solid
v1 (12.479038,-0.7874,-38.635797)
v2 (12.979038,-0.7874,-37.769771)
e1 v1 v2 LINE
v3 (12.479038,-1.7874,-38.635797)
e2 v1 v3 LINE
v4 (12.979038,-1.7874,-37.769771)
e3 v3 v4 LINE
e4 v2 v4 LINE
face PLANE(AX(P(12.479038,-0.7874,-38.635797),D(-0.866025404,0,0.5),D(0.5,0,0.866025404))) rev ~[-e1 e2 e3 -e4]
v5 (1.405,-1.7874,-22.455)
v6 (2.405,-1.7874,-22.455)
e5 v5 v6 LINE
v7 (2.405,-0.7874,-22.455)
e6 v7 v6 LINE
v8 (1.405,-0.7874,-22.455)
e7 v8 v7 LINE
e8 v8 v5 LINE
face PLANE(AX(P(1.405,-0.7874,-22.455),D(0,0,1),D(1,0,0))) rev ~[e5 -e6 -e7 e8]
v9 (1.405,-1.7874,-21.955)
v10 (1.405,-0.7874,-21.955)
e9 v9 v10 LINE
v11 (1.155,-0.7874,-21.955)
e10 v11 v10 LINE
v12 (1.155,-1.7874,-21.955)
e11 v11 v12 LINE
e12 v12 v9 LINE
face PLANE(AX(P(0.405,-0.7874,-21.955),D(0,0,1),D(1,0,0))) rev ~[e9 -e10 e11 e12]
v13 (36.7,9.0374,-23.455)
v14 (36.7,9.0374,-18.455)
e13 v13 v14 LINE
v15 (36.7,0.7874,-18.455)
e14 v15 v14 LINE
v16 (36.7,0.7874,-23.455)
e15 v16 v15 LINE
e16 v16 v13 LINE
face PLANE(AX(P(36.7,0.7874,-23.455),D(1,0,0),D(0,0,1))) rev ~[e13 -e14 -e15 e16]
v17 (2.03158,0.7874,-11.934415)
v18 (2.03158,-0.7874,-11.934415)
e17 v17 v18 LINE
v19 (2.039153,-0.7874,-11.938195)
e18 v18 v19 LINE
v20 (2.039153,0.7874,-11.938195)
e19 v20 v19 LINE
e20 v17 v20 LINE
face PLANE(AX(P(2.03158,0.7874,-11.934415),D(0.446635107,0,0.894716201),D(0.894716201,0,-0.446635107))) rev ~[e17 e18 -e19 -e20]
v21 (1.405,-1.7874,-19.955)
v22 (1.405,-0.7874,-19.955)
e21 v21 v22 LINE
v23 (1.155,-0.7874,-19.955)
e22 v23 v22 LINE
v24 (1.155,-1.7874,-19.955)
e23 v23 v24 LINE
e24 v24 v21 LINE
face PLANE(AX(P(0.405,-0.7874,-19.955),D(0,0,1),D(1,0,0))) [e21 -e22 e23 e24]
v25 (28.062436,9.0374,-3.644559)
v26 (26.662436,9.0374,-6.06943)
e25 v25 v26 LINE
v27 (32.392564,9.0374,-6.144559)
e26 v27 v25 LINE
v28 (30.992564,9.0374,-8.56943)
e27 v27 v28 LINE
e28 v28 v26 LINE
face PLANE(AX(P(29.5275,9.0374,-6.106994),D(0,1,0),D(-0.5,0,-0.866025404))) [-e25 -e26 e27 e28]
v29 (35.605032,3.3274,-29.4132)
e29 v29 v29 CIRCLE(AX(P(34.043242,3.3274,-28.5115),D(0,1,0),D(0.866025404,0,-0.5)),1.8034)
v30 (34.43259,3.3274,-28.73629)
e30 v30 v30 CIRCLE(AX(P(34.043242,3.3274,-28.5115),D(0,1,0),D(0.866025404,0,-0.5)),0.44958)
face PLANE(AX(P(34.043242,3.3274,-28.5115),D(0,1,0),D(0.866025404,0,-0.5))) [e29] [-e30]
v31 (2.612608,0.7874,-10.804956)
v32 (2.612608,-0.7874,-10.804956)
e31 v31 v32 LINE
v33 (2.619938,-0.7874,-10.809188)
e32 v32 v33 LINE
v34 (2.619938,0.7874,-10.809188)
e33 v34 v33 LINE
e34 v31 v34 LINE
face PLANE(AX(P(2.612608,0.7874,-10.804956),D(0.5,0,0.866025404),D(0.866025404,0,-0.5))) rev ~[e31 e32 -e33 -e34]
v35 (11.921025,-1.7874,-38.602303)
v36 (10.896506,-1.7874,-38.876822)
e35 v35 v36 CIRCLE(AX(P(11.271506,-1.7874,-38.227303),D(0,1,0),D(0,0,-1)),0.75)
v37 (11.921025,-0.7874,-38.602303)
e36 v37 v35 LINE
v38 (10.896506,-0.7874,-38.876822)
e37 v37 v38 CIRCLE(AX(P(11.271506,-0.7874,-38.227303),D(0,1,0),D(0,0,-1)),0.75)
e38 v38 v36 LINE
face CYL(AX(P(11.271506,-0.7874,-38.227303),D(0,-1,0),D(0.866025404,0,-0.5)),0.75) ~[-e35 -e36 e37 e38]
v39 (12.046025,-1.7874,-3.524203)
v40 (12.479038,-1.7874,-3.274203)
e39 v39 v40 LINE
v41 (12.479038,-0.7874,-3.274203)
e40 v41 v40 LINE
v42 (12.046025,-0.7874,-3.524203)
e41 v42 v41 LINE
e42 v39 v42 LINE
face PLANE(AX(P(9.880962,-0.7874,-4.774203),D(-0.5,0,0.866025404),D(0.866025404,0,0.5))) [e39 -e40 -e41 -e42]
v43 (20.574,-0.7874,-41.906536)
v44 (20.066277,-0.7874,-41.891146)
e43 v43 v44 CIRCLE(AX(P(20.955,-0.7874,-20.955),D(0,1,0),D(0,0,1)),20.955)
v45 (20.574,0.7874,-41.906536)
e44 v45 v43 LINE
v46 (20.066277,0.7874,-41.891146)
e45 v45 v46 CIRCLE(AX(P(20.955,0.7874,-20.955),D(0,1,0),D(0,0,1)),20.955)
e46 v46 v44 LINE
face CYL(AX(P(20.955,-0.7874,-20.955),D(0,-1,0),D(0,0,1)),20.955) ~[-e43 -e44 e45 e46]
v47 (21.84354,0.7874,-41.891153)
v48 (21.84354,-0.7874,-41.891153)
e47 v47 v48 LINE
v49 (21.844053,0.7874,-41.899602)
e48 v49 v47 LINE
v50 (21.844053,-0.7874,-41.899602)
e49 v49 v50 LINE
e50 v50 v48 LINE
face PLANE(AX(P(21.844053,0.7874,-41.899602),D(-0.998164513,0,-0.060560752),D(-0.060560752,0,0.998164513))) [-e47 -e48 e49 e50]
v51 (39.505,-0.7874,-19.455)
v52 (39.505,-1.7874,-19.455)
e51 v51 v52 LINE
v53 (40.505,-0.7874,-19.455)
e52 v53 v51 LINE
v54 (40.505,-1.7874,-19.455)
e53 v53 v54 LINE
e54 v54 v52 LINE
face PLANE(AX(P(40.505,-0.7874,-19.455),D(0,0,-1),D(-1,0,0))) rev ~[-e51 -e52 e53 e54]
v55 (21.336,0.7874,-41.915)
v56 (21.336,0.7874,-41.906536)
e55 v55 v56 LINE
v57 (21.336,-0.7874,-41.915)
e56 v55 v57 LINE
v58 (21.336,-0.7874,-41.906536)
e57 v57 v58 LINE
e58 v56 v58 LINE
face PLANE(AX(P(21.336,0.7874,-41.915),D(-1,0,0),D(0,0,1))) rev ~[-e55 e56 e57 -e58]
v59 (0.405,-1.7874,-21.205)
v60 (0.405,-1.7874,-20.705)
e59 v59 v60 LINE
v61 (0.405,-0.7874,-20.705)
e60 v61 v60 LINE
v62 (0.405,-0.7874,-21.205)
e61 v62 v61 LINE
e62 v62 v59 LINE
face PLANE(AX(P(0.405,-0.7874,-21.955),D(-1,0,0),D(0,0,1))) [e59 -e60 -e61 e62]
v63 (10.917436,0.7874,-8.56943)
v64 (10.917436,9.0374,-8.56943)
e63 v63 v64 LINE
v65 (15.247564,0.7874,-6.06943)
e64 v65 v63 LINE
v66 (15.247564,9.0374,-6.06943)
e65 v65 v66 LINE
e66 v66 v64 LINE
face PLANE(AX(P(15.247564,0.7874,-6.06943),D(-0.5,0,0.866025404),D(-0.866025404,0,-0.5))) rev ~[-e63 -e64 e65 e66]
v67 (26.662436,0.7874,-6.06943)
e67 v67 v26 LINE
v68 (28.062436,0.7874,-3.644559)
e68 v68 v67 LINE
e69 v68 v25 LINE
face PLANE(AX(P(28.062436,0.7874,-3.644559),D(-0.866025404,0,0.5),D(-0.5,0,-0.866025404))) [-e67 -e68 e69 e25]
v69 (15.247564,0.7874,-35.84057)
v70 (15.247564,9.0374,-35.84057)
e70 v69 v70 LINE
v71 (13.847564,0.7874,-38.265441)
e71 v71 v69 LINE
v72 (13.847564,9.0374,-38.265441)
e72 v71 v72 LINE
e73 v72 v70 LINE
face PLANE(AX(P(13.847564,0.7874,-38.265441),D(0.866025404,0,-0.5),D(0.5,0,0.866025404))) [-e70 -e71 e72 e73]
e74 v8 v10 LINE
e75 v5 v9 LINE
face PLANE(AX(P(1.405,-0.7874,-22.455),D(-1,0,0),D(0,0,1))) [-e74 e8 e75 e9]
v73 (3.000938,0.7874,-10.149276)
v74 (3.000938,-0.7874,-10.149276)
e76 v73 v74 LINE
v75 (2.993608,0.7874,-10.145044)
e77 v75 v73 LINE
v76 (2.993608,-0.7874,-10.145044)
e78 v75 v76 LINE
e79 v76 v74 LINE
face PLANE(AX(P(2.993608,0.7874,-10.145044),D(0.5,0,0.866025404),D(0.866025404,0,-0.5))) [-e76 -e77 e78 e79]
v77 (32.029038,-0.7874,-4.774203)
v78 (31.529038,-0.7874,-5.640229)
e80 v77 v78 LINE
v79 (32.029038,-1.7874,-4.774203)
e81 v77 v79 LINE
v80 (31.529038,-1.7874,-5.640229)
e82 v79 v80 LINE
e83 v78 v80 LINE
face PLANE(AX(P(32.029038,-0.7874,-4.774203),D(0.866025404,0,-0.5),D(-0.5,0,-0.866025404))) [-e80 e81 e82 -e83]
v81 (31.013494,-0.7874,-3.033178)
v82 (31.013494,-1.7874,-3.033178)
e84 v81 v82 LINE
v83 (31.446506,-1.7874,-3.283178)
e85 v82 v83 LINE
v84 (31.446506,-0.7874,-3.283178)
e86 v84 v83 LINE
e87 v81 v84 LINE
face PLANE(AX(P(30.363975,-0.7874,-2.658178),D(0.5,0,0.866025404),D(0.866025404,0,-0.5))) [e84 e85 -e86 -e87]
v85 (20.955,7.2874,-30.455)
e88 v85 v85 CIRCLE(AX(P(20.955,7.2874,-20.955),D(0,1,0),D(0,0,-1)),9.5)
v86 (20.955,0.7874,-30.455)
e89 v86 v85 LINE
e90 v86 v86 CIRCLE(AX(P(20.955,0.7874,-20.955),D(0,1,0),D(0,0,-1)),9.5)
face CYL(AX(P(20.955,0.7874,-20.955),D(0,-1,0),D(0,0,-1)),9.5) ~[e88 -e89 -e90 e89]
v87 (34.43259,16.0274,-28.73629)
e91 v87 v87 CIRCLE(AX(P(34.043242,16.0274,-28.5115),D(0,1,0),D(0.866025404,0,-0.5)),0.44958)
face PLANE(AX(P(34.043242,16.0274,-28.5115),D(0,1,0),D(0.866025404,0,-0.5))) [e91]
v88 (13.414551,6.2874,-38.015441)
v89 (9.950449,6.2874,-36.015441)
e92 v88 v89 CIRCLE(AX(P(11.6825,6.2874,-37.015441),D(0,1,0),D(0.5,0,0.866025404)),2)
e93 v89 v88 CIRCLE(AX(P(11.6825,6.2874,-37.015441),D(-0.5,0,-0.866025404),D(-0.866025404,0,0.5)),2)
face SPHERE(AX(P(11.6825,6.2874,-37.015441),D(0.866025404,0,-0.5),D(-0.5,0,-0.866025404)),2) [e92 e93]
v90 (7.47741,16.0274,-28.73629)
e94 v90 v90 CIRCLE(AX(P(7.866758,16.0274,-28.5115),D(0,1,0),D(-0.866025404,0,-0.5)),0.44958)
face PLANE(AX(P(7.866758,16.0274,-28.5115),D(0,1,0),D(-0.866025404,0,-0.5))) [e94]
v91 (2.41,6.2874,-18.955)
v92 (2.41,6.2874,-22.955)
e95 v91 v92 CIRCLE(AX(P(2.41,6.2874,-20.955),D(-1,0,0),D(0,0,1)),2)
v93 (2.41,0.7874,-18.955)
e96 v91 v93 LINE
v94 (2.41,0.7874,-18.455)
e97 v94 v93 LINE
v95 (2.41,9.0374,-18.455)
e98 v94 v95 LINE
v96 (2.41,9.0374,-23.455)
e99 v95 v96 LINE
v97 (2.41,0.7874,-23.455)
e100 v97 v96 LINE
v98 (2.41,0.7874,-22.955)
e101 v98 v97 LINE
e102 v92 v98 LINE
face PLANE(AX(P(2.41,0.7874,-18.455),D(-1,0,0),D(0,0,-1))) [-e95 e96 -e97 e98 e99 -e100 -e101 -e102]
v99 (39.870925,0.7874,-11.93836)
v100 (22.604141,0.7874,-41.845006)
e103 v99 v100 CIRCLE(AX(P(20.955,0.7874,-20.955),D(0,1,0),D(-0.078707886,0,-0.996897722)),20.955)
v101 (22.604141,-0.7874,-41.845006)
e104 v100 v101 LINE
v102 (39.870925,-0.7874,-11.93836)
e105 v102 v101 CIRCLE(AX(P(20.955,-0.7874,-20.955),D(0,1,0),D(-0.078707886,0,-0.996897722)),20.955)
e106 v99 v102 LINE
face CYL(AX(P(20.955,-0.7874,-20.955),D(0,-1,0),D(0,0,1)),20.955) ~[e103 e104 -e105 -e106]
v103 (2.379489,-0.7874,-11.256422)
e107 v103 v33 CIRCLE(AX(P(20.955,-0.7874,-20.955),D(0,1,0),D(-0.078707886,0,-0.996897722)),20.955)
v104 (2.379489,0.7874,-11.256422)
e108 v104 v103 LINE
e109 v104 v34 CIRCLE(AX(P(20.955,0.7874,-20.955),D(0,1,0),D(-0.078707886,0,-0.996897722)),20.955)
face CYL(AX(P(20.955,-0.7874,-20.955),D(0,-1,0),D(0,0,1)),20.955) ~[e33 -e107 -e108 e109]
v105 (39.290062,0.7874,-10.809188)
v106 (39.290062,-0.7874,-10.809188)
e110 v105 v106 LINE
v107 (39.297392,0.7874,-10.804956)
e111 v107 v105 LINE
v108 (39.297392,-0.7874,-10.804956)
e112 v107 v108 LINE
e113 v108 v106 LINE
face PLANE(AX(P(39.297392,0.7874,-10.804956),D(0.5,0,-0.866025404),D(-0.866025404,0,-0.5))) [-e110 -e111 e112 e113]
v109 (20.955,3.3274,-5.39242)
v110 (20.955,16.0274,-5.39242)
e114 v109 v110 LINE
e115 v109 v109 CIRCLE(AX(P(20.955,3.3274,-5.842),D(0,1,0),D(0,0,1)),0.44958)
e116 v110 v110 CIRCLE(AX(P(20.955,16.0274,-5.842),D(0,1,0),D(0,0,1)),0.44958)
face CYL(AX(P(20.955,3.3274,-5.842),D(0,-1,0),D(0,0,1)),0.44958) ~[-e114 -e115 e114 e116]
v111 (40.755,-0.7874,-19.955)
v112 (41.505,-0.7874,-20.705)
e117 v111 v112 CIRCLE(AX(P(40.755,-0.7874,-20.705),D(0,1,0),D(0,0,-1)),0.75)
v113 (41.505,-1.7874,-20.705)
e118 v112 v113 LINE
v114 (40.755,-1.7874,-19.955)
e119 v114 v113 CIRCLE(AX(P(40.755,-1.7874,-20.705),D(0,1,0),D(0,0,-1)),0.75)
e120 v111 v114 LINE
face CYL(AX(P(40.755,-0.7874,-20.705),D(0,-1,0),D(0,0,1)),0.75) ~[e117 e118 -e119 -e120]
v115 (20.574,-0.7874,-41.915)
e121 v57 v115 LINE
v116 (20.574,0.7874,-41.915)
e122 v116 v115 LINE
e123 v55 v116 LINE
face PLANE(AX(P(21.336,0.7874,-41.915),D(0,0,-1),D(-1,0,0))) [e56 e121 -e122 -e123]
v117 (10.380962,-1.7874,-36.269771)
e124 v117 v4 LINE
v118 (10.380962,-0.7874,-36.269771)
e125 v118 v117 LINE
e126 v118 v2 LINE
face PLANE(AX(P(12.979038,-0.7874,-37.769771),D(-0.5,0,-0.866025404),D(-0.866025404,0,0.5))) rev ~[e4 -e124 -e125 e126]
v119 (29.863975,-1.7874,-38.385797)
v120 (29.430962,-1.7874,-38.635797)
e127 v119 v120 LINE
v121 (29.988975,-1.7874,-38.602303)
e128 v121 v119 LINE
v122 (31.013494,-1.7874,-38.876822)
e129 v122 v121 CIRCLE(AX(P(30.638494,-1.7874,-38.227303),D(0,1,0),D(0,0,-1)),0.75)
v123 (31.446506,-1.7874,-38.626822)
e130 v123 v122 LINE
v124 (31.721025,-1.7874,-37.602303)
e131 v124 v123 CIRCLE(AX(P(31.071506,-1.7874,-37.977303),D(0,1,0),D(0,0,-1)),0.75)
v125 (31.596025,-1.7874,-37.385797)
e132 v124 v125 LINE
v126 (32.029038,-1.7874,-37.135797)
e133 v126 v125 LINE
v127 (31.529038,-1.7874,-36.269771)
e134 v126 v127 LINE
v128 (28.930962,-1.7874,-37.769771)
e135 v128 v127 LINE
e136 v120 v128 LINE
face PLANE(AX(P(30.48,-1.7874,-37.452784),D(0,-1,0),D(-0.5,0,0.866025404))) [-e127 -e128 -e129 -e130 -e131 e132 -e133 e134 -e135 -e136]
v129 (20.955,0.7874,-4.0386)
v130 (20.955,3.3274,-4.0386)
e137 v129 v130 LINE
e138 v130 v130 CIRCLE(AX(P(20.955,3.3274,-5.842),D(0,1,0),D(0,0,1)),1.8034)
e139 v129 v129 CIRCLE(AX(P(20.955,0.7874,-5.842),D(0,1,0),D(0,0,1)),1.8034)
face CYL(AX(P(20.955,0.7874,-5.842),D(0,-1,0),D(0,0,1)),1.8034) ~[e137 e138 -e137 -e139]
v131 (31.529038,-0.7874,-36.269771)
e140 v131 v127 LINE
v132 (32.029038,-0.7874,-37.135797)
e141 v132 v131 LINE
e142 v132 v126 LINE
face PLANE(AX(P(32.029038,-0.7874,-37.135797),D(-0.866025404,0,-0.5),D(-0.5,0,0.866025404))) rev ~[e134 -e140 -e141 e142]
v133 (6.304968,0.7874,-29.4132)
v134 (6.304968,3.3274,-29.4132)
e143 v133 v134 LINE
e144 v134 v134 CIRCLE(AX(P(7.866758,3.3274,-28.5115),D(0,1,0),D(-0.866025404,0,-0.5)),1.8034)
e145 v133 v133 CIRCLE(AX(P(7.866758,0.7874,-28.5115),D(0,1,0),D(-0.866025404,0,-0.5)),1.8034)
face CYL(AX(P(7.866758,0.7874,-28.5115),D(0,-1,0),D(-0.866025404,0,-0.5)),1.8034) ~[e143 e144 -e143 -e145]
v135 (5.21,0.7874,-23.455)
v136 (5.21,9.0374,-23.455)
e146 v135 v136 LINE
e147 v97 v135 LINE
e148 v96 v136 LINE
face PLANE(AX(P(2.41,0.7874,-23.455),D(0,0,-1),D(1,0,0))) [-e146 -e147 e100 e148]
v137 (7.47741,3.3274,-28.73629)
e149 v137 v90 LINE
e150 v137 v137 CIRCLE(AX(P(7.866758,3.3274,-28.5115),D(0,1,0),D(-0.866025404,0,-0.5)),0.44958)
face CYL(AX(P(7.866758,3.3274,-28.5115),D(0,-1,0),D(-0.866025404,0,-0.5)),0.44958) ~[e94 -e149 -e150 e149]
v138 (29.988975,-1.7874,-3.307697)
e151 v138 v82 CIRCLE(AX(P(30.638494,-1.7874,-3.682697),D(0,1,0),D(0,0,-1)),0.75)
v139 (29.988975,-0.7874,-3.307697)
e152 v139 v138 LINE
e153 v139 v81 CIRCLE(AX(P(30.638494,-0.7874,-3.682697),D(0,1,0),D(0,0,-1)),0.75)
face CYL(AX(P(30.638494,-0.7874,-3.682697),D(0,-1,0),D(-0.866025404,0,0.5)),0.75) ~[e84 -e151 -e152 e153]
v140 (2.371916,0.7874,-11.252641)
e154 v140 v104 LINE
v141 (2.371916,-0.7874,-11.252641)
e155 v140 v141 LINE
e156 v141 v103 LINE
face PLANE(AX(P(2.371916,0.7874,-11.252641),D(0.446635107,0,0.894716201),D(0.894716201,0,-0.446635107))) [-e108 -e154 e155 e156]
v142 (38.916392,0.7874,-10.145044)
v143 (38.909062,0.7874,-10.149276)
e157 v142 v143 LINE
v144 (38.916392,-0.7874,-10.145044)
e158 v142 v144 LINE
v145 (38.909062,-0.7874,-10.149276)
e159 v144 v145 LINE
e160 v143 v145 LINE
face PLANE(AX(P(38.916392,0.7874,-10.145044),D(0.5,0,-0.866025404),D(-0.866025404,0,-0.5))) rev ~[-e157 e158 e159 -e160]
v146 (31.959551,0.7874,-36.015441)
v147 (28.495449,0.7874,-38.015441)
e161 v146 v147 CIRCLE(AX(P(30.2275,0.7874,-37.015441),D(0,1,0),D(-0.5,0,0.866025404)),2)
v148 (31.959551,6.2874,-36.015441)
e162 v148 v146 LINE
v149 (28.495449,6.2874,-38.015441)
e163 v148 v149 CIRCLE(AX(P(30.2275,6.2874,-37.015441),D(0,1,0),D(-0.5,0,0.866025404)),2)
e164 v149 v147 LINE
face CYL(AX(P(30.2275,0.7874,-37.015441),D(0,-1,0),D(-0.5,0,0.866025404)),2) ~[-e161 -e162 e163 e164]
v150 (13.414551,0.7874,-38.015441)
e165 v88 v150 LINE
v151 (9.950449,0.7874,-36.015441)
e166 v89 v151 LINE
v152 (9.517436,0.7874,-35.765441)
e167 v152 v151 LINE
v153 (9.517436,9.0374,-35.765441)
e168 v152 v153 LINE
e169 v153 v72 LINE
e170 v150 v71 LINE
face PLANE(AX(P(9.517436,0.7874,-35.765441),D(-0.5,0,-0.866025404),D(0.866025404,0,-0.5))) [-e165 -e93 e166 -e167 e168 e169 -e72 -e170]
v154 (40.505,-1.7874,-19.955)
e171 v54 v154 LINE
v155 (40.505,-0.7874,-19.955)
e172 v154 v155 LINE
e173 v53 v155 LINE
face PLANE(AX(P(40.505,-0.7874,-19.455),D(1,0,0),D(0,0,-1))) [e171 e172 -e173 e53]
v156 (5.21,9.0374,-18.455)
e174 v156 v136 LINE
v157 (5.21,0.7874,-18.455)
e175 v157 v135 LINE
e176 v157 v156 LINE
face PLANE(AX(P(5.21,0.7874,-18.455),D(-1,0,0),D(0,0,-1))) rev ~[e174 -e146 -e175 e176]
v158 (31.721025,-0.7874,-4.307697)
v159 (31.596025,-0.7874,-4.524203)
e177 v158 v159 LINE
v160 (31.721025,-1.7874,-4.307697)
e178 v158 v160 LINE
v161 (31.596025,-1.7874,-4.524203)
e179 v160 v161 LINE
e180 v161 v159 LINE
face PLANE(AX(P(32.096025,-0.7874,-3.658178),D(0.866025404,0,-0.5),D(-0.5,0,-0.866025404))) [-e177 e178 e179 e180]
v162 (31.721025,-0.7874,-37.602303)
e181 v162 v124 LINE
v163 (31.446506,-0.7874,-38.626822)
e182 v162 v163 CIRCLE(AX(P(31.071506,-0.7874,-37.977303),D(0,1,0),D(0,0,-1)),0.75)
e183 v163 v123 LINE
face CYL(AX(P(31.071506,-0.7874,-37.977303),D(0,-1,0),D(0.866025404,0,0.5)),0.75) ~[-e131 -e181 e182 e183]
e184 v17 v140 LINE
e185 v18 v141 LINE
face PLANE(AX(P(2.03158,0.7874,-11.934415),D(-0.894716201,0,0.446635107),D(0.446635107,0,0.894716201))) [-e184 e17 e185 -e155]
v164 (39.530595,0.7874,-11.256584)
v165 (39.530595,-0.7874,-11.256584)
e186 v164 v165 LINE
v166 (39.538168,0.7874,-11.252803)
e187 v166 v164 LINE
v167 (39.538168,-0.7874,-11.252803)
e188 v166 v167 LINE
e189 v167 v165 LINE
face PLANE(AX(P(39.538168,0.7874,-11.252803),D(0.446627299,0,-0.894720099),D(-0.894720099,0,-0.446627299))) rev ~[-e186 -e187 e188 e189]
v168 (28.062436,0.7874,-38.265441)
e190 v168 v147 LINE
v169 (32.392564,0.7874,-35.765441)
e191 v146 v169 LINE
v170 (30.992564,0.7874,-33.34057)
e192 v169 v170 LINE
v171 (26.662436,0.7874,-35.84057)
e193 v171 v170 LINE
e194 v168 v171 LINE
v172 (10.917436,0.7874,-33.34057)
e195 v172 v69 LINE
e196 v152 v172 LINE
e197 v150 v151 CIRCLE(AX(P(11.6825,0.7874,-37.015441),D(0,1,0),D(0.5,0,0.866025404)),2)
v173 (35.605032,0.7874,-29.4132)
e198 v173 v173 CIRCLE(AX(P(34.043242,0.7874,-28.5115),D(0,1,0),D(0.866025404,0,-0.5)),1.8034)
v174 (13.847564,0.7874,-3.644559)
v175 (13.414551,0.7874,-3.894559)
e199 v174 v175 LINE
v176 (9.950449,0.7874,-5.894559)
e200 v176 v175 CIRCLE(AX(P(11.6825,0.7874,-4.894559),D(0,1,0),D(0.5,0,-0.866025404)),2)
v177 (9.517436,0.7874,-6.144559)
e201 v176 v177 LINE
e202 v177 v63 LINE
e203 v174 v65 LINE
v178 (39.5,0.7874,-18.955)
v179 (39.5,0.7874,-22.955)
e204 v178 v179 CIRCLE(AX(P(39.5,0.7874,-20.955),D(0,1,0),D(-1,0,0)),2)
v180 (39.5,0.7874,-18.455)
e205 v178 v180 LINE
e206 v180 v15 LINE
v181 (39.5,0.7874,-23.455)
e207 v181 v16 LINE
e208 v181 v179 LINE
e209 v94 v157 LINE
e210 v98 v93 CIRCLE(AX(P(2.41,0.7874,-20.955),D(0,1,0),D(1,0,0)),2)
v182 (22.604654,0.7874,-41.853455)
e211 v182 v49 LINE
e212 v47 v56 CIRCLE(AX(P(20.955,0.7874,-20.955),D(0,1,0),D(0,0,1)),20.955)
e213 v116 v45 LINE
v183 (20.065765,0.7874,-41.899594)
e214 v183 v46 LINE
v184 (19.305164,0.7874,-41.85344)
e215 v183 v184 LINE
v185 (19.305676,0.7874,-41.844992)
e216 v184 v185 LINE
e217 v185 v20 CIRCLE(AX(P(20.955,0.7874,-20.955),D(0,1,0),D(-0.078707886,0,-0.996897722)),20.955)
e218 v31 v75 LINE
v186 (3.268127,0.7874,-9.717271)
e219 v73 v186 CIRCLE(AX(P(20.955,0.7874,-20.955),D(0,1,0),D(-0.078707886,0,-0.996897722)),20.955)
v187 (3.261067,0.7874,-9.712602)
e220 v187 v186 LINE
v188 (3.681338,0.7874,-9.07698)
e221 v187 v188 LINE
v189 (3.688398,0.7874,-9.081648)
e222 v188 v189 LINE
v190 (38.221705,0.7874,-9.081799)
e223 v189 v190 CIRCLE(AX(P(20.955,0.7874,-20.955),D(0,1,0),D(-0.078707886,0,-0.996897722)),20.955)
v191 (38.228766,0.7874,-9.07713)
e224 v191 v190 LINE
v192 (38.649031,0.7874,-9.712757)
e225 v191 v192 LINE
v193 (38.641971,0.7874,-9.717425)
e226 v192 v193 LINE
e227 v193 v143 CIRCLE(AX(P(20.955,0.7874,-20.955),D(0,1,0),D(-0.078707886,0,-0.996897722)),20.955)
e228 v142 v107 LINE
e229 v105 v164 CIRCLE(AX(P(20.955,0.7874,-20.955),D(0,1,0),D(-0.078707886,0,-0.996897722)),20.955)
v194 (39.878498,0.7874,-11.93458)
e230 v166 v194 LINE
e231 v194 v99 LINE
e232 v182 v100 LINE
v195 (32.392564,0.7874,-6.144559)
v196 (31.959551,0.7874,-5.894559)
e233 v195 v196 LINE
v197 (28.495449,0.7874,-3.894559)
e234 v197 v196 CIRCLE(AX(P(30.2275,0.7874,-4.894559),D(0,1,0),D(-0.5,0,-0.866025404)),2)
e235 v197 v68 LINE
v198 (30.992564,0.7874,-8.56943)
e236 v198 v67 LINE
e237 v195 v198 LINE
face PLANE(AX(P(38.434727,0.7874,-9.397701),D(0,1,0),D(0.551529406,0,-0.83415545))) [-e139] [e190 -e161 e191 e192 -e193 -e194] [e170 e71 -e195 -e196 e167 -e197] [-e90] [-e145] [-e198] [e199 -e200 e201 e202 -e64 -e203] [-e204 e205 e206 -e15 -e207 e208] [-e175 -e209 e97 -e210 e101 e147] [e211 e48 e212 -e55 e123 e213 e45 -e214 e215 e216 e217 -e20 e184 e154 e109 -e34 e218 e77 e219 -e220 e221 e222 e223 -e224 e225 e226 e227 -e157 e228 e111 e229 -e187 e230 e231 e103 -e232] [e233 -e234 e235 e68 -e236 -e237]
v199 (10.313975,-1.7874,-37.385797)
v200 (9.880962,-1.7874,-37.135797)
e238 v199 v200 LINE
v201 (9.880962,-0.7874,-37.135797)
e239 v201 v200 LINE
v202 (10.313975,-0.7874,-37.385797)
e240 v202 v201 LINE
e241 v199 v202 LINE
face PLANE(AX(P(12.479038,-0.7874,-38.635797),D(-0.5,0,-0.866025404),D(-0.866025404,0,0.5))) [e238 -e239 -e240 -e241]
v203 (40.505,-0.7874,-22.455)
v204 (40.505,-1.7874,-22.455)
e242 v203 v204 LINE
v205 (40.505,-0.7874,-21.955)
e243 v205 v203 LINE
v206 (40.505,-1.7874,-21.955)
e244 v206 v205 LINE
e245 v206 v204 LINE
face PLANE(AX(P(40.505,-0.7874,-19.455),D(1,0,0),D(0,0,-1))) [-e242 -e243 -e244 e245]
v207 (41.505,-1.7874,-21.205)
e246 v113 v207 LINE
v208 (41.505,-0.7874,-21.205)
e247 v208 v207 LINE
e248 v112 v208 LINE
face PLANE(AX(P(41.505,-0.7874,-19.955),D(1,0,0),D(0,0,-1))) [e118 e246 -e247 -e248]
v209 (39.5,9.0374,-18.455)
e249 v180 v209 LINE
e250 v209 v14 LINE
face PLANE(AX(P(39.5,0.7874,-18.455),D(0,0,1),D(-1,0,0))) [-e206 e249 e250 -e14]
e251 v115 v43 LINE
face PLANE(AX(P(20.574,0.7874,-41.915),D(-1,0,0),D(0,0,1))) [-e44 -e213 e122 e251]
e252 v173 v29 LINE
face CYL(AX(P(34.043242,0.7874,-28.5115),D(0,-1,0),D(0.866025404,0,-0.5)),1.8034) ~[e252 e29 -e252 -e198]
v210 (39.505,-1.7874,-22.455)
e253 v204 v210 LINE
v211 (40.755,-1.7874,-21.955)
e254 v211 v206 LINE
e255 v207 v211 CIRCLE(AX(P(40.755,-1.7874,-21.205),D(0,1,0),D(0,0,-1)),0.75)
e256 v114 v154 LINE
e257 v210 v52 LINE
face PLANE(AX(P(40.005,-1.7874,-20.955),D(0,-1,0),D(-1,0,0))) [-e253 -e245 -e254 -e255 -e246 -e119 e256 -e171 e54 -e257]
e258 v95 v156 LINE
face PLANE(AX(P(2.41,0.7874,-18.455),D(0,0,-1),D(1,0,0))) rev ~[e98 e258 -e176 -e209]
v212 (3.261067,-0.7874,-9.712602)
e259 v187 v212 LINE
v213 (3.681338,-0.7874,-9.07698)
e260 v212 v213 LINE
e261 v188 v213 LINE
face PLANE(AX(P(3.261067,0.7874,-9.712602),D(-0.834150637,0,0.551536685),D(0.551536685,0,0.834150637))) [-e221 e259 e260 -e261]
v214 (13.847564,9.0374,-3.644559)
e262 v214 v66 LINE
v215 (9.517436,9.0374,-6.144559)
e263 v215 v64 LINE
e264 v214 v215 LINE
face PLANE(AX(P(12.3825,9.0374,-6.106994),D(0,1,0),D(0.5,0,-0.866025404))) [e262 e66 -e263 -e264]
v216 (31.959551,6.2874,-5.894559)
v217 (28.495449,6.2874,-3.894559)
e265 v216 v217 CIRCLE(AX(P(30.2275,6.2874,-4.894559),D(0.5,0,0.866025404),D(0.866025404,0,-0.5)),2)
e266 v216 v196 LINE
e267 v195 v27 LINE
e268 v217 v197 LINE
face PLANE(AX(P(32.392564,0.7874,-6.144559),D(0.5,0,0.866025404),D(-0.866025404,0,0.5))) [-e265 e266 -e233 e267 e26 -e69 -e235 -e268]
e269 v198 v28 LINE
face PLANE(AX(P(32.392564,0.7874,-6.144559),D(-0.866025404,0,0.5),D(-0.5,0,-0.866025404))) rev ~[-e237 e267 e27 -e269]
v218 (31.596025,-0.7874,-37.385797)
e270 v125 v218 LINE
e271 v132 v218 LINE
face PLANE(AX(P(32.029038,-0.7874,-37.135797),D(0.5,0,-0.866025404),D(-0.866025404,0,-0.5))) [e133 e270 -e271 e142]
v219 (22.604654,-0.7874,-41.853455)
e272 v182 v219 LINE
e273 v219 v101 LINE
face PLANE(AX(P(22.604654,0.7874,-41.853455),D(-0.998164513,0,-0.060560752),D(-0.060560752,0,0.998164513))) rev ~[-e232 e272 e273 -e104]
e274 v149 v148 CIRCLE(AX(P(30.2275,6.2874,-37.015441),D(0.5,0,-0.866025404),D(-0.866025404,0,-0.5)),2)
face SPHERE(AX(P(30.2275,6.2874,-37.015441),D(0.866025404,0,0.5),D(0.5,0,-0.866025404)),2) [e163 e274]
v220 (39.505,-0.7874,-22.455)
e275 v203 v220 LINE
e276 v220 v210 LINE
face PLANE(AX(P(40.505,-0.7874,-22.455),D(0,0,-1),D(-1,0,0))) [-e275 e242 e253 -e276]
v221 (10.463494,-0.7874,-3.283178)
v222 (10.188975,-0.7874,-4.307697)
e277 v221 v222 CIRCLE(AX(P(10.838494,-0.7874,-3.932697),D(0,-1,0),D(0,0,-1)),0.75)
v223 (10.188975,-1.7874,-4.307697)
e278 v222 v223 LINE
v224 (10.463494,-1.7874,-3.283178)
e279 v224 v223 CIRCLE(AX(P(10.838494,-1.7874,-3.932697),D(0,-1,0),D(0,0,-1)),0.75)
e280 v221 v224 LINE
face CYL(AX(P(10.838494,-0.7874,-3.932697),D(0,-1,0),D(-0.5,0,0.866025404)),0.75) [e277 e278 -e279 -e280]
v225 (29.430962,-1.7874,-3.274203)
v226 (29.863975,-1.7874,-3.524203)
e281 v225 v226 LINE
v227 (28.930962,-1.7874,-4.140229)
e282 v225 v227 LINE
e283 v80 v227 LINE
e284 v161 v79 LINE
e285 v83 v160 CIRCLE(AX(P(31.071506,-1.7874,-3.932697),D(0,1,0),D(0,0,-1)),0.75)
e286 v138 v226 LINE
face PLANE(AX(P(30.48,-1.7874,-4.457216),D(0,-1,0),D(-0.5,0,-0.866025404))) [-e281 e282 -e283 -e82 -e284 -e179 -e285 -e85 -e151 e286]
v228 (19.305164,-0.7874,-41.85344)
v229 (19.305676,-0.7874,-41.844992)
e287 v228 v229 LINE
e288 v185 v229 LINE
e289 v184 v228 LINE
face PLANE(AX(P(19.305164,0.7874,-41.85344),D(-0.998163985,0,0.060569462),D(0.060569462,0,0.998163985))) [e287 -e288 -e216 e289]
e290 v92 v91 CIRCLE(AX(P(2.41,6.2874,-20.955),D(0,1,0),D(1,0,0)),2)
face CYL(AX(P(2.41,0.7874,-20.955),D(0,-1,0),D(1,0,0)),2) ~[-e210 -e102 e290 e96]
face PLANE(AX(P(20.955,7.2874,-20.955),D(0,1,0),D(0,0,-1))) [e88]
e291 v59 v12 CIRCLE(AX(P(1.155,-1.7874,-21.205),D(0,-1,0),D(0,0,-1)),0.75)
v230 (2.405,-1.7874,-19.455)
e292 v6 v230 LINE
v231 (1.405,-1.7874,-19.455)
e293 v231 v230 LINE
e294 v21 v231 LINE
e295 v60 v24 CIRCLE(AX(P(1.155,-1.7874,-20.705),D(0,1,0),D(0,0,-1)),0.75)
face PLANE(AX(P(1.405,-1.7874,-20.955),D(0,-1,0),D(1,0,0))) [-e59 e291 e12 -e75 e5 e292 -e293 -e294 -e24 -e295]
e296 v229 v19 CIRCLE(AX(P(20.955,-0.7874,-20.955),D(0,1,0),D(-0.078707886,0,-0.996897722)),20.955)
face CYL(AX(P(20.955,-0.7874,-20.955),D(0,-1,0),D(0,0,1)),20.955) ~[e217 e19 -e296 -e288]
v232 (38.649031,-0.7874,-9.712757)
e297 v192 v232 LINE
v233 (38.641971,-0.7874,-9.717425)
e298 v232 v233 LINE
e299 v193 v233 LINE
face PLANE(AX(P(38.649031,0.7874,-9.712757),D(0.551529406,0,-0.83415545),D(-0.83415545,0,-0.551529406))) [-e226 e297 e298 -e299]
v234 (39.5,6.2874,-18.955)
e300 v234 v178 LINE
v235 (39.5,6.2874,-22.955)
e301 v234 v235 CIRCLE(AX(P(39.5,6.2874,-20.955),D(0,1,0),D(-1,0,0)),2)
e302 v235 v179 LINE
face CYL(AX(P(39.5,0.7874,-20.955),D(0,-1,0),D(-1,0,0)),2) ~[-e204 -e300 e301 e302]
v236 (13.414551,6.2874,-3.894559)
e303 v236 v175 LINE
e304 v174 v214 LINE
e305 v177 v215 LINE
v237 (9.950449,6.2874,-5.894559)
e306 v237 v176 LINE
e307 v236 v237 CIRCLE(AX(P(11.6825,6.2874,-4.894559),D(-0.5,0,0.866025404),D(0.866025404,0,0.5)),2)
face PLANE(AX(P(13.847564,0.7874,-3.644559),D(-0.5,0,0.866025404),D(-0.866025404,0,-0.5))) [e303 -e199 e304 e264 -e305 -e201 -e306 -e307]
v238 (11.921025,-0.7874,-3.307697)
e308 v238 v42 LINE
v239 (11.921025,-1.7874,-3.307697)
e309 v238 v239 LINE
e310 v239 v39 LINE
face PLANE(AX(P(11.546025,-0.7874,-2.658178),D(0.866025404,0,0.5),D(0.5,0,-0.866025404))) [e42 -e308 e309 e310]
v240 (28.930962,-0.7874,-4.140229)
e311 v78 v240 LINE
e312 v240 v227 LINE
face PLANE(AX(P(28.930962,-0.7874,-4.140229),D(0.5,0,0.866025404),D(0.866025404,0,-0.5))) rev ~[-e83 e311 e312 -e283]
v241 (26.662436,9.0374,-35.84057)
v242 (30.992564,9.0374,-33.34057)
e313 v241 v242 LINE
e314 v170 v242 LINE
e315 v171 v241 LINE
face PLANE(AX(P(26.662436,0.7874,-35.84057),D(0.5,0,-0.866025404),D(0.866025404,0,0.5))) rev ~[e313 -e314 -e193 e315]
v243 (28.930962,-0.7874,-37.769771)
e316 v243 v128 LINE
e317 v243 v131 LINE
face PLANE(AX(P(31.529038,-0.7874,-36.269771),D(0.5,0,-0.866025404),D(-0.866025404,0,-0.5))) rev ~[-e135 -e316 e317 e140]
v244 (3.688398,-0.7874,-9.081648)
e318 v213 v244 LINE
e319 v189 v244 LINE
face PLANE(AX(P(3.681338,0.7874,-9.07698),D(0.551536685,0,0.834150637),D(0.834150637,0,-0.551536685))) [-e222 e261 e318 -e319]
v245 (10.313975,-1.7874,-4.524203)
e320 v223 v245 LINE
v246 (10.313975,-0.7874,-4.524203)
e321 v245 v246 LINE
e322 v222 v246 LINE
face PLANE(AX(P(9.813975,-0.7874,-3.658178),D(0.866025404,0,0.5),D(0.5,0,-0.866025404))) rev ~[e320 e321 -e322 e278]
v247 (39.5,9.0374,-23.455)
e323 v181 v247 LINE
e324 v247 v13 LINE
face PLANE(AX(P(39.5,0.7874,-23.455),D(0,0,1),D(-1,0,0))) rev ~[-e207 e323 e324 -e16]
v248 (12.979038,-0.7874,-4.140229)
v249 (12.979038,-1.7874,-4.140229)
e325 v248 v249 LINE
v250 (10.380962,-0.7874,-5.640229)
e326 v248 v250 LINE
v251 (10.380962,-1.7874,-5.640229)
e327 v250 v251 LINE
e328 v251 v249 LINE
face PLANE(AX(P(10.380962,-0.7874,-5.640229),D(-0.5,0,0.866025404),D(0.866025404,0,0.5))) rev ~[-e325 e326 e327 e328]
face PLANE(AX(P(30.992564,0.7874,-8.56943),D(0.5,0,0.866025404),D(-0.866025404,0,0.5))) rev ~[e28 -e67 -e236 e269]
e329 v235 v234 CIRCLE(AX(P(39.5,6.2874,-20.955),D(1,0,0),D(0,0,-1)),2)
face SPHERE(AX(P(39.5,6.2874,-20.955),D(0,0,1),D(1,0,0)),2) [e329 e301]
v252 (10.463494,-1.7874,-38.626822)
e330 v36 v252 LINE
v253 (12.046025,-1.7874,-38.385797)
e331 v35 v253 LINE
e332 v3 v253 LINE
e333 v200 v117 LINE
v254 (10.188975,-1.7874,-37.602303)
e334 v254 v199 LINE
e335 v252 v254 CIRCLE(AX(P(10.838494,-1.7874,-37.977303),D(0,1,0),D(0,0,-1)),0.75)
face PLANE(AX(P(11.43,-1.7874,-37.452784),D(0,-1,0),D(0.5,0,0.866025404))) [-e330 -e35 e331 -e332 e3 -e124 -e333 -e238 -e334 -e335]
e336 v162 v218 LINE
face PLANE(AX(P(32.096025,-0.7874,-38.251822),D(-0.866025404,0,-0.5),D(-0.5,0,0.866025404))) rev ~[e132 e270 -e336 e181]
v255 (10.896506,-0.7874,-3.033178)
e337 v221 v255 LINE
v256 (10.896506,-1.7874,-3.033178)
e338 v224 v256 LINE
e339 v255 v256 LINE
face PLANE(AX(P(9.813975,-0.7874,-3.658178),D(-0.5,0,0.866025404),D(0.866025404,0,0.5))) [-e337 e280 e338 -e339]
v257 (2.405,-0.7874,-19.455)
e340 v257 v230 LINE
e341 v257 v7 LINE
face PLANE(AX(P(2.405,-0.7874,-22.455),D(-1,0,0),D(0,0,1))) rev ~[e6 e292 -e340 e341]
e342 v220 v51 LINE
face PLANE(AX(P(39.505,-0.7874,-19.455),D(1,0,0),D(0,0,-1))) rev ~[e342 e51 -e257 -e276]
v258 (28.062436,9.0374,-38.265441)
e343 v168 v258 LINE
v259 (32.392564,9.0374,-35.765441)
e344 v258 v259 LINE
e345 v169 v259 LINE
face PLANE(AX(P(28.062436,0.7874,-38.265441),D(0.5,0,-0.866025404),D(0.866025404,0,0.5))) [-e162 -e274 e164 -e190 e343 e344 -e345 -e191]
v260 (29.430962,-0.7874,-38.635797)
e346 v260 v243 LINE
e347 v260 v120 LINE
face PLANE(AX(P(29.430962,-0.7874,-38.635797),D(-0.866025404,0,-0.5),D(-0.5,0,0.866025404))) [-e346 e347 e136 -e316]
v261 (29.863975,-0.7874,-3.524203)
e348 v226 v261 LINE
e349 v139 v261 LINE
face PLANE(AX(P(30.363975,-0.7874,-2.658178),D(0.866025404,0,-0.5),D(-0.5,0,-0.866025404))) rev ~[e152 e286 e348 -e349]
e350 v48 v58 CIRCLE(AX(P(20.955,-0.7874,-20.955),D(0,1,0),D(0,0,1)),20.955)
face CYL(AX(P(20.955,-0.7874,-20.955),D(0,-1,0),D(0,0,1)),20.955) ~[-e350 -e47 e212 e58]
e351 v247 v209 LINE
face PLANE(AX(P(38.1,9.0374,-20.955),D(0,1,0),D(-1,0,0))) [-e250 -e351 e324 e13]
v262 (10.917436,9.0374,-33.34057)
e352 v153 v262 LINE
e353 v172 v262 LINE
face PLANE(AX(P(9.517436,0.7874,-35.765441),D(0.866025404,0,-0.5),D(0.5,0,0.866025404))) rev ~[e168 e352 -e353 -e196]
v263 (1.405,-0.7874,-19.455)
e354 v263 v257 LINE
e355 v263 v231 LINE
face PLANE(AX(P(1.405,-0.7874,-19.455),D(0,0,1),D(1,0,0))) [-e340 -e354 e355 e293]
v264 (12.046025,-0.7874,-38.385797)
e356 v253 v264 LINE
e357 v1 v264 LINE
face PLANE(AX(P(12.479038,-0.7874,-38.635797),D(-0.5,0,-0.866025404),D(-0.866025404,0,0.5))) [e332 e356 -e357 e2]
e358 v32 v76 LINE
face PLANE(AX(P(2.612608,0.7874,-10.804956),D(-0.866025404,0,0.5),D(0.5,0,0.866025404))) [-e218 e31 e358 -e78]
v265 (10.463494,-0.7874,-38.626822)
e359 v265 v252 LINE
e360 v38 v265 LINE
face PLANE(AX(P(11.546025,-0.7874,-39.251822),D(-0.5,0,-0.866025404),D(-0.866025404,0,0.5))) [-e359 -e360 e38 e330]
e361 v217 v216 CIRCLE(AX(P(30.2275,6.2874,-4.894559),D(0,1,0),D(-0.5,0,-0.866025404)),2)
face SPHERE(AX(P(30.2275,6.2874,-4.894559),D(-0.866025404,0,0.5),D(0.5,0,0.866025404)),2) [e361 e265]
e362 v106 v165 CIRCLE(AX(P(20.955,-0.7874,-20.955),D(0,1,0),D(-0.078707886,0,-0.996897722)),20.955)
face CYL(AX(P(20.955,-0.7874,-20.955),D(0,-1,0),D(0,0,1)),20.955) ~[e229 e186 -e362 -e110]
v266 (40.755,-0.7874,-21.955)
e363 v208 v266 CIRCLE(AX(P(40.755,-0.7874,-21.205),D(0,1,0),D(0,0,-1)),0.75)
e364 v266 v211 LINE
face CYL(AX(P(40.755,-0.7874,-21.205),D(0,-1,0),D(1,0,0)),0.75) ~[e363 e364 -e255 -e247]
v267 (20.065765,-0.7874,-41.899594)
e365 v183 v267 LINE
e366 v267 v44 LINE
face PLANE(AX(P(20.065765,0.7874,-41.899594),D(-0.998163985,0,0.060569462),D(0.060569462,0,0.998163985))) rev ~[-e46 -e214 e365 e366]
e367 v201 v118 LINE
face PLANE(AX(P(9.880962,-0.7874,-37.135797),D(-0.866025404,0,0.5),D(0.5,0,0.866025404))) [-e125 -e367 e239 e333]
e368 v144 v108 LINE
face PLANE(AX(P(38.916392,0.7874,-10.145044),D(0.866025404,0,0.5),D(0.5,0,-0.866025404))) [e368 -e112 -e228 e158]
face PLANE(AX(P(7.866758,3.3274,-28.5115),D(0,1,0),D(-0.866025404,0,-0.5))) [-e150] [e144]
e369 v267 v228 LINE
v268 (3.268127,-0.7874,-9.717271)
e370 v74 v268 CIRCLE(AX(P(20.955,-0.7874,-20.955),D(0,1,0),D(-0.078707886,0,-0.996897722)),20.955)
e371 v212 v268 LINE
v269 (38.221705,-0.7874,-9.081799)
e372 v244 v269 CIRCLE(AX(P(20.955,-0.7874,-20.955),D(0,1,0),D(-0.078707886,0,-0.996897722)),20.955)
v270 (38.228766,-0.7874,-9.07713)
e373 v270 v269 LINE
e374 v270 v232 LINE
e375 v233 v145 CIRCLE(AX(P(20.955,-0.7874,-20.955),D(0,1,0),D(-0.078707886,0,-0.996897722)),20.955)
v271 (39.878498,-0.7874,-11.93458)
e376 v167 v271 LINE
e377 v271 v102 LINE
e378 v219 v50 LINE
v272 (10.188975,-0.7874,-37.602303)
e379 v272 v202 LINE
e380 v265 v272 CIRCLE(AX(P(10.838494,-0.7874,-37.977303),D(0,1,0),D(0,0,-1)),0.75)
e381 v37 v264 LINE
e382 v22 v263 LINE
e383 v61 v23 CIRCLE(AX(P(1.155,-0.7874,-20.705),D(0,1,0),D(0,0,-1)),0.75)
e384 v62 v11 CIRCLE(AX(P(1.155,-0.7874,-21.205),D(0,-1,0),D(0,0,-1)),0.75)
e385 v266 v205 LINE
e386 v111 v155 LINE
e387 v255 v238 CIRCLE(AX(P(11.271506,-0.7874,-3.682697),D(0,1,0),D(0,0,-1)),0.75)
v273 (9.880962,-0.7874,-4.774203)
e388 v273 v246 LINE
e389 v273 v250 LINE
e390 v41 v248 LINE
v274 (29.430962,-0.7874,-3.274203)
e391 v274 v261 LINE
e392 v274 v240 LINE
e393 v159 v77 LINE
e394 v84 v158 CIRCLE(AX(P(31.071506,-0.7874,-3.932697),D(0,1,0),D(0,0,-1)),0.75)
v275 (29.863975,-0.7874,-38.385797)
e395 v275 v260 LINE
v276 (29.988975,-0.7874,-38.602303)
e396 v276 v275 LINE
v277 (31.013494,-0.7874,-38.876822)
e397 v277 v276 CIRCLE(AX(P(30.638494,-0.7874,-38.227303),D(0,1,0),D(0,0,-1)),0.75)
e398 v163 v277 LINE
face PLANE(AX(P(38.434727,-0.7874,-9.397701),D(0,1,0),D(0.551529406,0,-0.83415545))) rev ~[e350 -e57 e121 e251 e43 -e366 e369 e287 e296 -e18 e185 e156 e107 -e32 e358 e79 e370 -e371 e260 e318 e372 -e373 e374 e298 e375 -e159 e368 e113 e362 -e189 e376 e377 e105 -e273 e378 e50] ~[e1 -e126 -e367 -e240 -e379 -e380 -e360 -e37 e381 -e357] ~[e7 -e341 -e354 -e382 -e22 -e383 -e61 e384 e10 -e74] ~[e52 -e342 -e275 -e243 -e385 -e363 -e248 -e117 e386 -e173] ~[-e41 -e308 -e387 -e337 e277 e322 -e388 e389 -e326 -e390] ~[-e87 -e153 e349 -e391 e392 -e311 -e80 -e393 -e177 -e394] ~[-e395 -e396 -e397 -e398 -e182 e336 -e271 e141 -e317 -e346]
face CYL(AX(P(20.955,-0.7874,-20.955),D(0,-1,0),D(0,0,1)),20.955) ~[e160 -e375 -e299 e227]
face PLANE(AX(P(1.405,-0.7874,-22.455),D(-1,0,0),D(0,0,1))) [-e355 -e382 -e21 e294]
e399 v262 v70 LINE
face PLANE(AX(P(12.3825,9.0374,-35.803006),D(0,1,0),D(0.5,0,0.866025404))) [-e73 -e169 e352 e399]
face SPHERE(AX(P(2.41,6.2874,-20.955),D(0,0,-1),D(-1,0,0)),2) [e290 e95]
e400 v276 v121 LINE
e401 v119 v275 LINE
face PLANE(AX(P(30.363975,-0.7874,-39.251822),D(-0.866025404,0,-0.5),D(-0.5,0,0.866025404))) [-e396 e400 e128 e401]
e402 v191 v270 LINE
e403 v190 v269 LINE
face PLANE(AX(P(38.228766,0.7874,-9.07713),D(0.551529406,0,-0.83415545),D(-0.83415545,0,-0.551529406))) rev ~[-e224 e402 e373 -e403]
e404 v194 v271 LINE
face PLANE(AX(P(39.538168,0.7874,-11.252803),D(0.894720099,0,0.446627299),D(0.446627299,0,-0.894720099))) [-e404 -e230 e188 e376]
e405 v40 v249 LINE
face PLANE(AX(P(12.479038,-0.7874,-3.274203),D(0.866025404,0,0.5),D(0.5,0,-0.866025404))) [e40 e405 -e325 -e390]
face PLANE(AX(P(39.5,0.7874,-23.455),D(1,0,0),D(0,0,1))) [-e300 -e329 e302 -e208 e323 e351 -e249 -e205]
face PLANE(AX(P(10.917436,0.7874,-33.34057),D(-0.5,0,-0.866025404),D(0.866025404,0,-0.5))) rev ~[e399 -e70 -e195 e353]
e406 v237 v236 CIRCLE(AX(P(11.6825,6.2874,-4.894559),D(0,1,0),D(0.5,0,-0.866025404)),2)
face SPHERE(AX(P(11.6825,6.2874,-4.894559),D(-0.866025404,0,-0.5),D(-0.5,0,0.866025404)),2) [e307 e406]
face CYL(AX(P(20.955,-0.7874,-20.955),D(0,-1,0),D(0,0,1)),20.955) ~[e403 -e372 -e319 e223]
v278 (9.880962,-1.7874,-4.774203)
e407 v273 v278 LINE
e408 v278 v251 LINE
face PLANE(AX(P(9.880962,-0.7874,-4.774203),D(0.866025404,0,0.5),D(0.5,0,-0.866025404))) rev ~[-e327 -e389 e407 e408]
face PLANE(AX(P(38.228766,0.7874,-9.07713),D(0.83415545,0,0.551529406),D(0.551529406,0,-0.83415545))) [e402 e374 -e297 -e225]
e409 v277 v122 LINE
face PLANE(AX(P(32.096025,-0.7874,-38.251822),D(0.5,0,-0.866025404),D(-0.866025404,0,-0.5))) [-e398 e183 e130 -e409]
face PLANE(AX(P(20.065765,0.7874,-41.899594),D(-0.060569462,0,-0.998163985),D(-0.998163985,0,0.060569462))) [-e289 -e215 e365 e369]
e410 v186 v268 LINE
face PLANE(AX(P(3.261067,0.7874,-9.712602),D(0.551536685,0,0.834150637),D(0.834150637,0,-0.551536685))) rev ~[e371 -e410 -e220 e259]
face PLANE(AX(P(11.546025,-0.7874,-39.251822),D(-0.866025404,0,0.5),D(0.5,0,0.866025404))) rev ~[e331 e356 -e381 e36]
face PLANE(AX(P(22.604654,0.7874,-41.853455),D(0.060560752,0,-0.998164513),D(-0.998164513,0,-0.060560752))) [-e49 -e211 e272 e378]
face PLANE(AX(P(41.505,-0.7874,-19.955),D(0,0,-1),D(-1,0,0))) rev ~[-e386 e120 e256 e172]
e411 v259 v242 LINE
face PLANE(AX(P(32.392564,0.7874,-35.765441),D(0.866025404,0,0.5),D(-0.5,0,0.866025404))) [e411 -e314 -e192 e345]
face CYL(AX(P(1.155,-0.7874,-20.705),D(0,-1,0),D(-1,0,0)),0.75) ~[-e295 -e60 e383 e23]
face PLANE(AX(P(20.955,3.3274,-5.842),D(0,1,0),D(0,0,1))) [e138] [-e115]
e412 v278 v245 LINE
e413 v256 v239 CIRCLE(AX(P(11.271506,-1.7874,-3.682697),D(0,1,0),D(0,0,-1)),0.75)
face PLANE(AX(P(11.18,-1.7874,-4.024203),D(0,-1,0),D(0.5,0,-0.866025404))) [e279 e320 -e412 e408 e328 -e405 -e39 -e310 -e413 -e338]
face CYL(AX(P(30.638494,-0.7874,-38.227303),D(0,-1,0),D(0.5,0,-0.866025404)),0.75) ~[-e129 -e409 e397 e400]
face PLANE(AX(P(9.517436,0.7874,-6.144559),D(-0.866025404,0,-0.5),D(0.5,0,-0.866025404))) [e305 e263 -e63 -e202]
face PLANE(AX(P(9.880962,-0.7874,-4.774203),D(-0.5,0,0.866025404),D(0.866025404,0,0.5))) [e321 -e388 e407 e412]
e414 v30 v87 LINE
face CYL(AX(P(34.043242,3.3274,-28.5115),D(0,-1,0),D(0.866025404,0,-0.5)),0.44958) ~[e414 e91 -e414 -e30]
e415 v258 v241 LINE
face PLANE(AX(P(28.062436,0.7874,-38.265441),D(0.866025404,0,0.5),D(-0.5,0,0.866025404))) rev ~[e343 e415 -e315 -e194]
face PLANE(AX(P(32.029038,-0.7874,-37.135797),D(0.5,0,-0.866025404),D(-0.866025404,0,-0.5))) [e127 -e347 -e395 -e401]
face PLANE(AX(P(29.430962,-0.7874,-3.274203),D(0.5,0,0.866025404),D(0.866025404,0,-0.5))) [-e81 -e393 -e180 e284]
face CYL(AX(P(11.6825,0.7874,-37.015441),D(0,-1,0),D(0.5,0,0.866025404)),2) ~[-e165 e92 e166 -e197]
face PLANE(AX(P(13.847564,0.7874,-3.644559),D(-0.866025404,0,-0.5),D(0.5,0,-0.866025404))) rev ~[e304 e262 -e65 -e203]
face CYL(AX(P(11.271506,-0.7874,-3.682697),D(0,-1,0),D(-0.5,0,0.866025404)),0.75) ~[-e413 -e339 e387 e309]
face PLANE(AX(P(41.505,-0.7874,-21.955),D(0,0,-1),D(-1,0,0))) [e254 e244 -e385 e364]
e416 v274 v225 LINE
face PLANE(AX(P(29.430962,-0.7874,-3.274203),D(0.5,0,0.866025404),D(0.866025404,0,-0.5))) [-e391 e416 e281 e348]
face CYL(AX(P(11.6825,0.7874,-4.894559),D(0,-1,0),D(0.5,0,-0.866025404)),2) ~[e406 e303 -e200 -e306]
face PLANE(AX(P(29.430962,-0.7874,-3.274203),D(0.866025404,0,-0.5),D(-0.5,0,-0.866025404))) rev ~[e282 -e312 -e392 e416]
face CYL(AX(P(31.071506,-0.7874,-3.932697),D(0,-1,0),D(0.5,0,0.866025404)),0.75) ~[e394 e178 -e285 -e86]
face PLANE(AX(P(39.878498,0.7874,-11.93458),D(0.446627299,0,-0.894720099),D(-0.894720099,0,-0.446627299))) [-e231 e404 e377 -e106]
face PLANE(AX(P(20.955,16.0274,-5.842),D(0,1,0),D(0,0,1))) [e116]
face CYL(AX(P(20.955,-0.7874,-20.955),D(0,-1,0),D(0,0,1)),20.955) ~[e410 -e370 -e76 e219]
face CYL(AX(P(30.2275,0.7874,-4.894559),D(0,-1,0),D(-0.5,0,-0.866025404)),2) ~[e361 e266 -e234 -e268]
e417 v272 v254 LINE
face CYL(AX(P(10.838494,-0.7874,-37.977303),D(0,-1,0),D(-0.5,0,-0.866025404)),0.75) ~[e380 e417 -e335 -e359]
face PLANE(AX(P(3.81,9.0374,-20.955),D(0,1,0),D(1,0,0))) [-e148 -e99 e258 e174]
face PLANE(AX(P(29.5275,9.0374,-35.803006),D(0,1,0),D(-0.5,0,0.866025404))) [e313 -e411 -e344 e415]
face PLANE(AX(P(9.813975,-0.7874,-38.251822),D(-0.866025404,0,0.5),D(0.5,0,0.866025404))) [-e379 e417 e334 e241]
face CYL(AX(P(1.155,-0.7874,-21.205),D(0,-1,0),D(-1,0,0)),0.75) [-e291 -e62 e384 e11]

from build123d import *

# Parameters (mm, degrees)
BOSS_EXTRUDE1_DEPTH         = 0.7874
BOSS_EXTRUDE1_DEPTH_BACK    = 0.7874
SKETCH1_R                   = 20.955
SKETCH2_R                   = 1.8034
BOSS_EXTRUDE2_DEPTH         = 2.54
SKETCH3_R                   = 0.44958
BOSS_EXTRUDE3_DEPTH         = 12.7
CIRPATTERN1_COUNT           = 3
SKETCH4_R                   = 9.5
BOSS_EXTRUDE4_DEPTH         = 6.5
SKETCH5_W                   = 2.8
SKETCH5_H                   = 5
BOSS_EXTRUDE5_DEPTH         = 8.25
SKETCH6_R                   = 2
BOSS_EXTRUDE6_DEPTH         = 5.5
REVOLVE1_ANGLE              = 90
CIRPATTERN2_COUNT           = 6
SKETCH8_W                   = 1
SKETCH8_H                   = 3
BOSS_EXTRUDE7_DEPTH         = 1
SKETCH9_W                   = 2
SKETCH9_H                   = 2
BOSS_EXTRUDE8_DEPTH         = 1
FILLET1_R                   = 0.75
CIRPATTERN3_COUNT           = 6
FILLET1_OF_CIRPATTERN3_R    = 0.75
SKETCH11_W                  = 0.762
SKETCH11_H                  = 0.01
BOSS_EXTRUDE10_DEPTH        = 1.5748
CIRPATTERN4_COUNT           = 2
CIRPATTERN4_ANGLE           = 3.4725
CIRPATTERN5_COUNT           = 2
CIRPATTERN5_ANGLE           = 356.528
CIRPATTERN6_COUNT           = 3
CIRPATTERN6_COPY_1_SKETCH_W = 0.762
CIRPATTERN6_COPY_1_SKETCH_H = 0.01
CIRPATTERN6_COPY_1_DEPTH    = 1.5748
CIRPATTERN6_COPY_2_SKETCH_W = 0.762
CIRPATTERN6_COPY_2_SKETCH_H = 0.01
CIRPATTERN6_COPY_2_DEPTH    = 1.5748
CIRPATTERN6_COPY_3_SKETCH_W = 0.762
CIRPATTERN6_COPY_3_SKETCH_H = 0.01
CIRPATTERN6_COPY_3_DEPTH    = 1.5748
CIRPATTERN6_COPY_4_SKETCH_W = 0.762
CIRPATTERN6_COPY_4_SKETCH_H = 0.01
CIRPATTERN6_COPY_4_DEPTH    = 1.5748


with BuildPart() as part:
    # Sketch1 → Boss-Extrude1 (new, two sides: drawn at the far end of the back side and taken through both)
    with BuildSketch(Plane(origin=(0, 0, 0), x_dir=(1, 0, 0), z_dir=(0, 1, 0)).offset(-BOSS_EXTRUDE1_DEPTH_BACK)):
        with Locations(Location((20.955, 20.955, 0), (0, 0, 270))):
            Circle(SKETCH1_R)
    extrude(amount=BOSS_EXTRUDE1_DEPTH + BOSS_EXTRUDE1_DEPTH_BACK)

    # Sketch2 → Boss-Extrude2 (add)
    with BuildSketch(Plane(origin=(0, 0.7874, 0), x_dir=(1, 0, 0), z_dir=(0, 1, 0))):
        with Locations(Location((20.955, 5.842, 0), (0, 0, 270))):
            Circle(SKETCH2_R)
    boss_extrude2 = extrude(amount=BOSS_EXTRUDE2_DEPTH)

    # Sketch3 → Boss-Extrude3 (add)
    with BuildSketch(Plane(origin=(0, 3.3274, 0), x_dir=(1, 0, 0), z_dir=(0, 1, 0))):
        with Locations(Location((20.955, 5.842, 0), (0, 0, 270))):
            Circle(SKETCH3_R)
    boss_extrude3 = extrude(amount=BOSS_EXTRUDE3_DEPTH)

    # CirPattern1: Boss-Extrude2, Boss-Extrude3 ×3 about axis
    cirpattern1_axis = Axis((20.955, 0, -20.955), (0, 1, 0))
    add([boss_extrude2.rotate(cirpattern1_axis, i * 360 / CIRPATTERN1_COUNT) for i in range(1, CIRPATTERN1_COUNT)])
    add([boss_extrude3.rotate(cirpattern1_axis, i * 360 / CIRPATTERN1_COUNT) for i in range(1, CIRPATTERN1_COUNT)])

    # Sketch4 → Boss-Extrude4 (add)
    with BuildSketch(Plane(origin=(0, 0.7874, 0), x_dir=(1, 0, 0), z_dir=(0, 1, 0))):
        with Locations(Location((20.955, 20.955, 0), (0, 0, 90))):
            Circle(SKETCH4_R)
    extrude(amount=BOSS_EXTRUDE4_DEPTH)

    # Sketch5 → Boss-Extrude5 (add)
    with BuildSketch(Plane(origin=(0, 0.7874, 0), x_dir=(1, 0, 0), z_dir=(0, 1, 0))):
        with Locations((3.81, 20.955)):
            Rectangle(SKETCH5_W, SKETCH5_H)
    boss_extrude5 = extrude(amount=BOSS_EXTRUDE5_DEPTH)

    # Sketch6 → Boss-Extrude6 (add)
    with BuildSketch(Plane(origin=(0, 0.7874, 0), x_dir=(1, 0, 0), z_dir=(0, 1, 0))):
        with Locations((2.41, 20.955)):
            Circle(SKETCH6_R)
    boss_extrude6 = extrude(amount=BOSS_EXTRUDE6_DEPTH)

    # Sketch7 → Revolve1 (revolve)
    with BuildSketch(Plane(origin=(0, 6.2874, 0), x_dir=(1, 0, 0), z_dir=(0, 1, 0))):
        with BuildLine():
            Line((2.41, 22.955), (2.41, 18.955))
            ThreePointArc((2.41, 18.955), (0.41, 20.955), (2.41, 22.955))
        make_face()
    revolve1 = revolve(axis=Axis((2.41, 6.2874, -22.955), (0, 0, -1)), revolution_arc=REVOLVE1_ANGLE)

    # CirPattern2: Boss-Extrude5, Boss-Extrude6, Revolve1 ×6 about axis
    cirpattern2_axis = Axis((20.955, 0, -20.955), (0, 1, 0))
    add([boss_extrude5.rotate(cirpattern2_axis, i * 360 / CIRPATTERN2_COUNT) for i in range(1, CIRPATTERN2_COUNT)])
    add([boss_extrude6.rotate(cirpattern2_axis, i * 360 / CIRPATTERN2_COUNT) for i in range(1, CIRPATTERN2_COUNT)])
    add([revolve1.rotate(cirpattern2_axis, i * 360 / CIRPATTERN2_COUNT) for i in range(1, CIRPATTERN2_COUNT)])

    # Sketch8 → Boss-Extrude7 (add)
    with BuildSketch(Plane.XZ.offset(0.7874)):
        with Locations((1.905, -20.955)):
            Rectangle(SKETCH8_W, SKETCH8_H)
    boss_extrude7 = extrude(amount=BOSS_EXTRUDE7_DEPTH)

    # Sketch9 → Boss-Extrude8 (add)
    with BuildSketch(Plane.XZ.offset(0.7874)):
        with Locations((1.405, -20.955)):
            Rectangle(SKETCH9_W, SKETCH9_H)
    boss_extrude8 = extrude(amount=BOSS_EXTRUDE8_DEPTH)

    # Fillet1
    fillet1_edges = [part.edges().sort_by_distance(p)[0] for p in [
        (0.405, -1.2874, -21.955),
        (0.405, -1.2874, -19.955),
    ]]
    fillet(fillet1_edges, radius=FILLET1_R)

    # CirPattern3: Boss-Extrude7, Boss-Extrude8 ×6 about axis
    cirpattern3_axis = Axis((20.955, 0, -20.955), (0, 1, 0))
    add([boss_extrude7.rotate(cirpattern3_axis, i * 360 / CIRPATTERN3_COUNT) for i in range(1, CIRPATTERN3_COUNT)])
    add([boss_extrude8.rotate(cirpattern3_axis, i * 360 / CIRPATTERN3_COUNT) for i in range(1, CIRPATTERN3_COUNT)])

    # Fillet1 of CirPattern3
    fillet1_of_cirpattern3_edges = [part.edges().sort_by_distance(p)[0] for p in [
        (9.813974596, -1.2874, -3.658177952),
        (11.546025404, -1.2874, -2.658177952),
        (30.363974596, -1.2874, -2.658177952),
        (32.096025404, -1.2874, -3.658177952),
        (41.505, -1.2874, -19.955),
        (41.505, -1.2874, -21.955),
        (32.096025404, -1.2874, -38.251822048),
        (30.363974596, -1.2874, -39.251822048),
        (11.546025404, -1.2874, -39.251822048),
        (9.813974596, -1.2874, -38.251822048),
    ]]
    fillet(fillet1_of_cirpattern3_edges, radius=FILLET1_OF_CIRPATTERN3_R)

    # Sketch11 → Boss-Extrude10 (add)
    with BuildSketch(Plane(origin=(0, 0.7874, 0), x_dir=(-1, 0, 0), z_dir=(0, 1, 0))):
        with Locations((-20.955, -41.91)):
            Rectangle(SKETCH11_W, SKETCH11_H)
    boss_extrude10 = extrude(amount=-BOSS_EXTRUDE10_DEPTH)

    # CirPattern4: Boss-Extrude10 ×2 about axis
    cirpattern4_axis = Axis((20.955, 0, -20.955), (0, 1, 0))
    for i in range(1, CIRPATTERN4_COUNT):
        add(boss_extrude10.rotate(cirpattern4_axis, i * CIRPATTERN4_ANGLE / (CIRPATTERN4_COUNT - 1)))

    # CirPattern5: Boss-Extrude10 ×2 about axis
    cirpattern5_axis = Axis((20.955, 0.7874, -20.955), (0, 1, 0))
    for i in range(1, CIRPATTERN5_COUNT):
        add(boss_extrude10.rotate(cirpattern5_axis, i * CIRPATTERN5_ANGLE / (CIRPATTERN5_COUNT - 1)))

    # CirPattern6: Boss-Extrude10 ×3 about axis
    cirpattern6_axis = Axis((20.955, 0, -20.955), (0, 1, 0))
    for i in range(1, CIRPATTERN6_COUNT):
        add(boss_extrude10.rotate(cirpattern6_axis, i * 360 / CIRPATTERN6_COUNT))

    # CirPattern6 copy 1 sketch → CirPattern6 copy 1 (add)
    with BuildSketch(Plane(origin=(49.992077833, 0.7874, -15.032824647), x_dir=(0.5515366852909422, 0, 0.8341506367427168), z_dir=(0, 1, 0))):
        with Locations((-20.955, -41.91)):
            Rectangle(CIRPATTERN6_COPY_1_SKETCH_W, CIRPATTERN6_COPY_1_SKETCH_H)
    extrude(amount=-CIRPATTERN6_COPY_1_DEPTH)

    # CirPattern6 copy 2 sketch → CirPattern6 copy 2 (add)
    with BuildSketch(Plane(origin=(11.565215384, 0.7874, -49.062934732), x_dir=(0.4466272993566871, 0, -0.8947200989523774), z_dir=(0, 1, 0))):
        with Locations((-20.955, -41.91)):
            Rectangle(CIRPATTERN6_COPY_2_SKETCH_W, CIRPATTERN6_COPY_2_SKETCH_H)
    extrude(amount=-CIRPATTERN6_COPY_2_DEPTH)

    # CirPattern6 copy 3 sketch → CirPattern6 copy 3 (add)
    with BuildSketch(Plane(origin=(49.063016672, 0.7874, -11.565460673), x_dir=(0.44663510724549776, 0, 0.8947162013598516), z_dir=(0, 1, 0))):
        with Locations((-20.955, -41.91)):
            Rectangle(CIRPATTERN6_COPY_3_SKETCH_W, CIRPATTERN6_COPY_3_SKETCH_H)
    extrude(amount=-CIRPATTERN6_COPY_3_DEPTH)

    # CirPattern6 copy 4 sketch → CirPattern6 copy 4 (add)
    with BuildSketch(Plane(origin=(15.032571251, 0.7874, -49.992026151), x_dir=(0.551529405932396, 0, -0.834155449776514), z_dir=(0, 1, 0))):
        with Locations((-20.955, -41.91)):
            Rectangle(CIRPATTERN6_COPY_4_SKETCH_W, CIRPATTERN6_COPY_4_SKETCH_H)
    extrude(amount=-CIRPATTERN6_COPY_4_DEPTH)


solid = part.part
